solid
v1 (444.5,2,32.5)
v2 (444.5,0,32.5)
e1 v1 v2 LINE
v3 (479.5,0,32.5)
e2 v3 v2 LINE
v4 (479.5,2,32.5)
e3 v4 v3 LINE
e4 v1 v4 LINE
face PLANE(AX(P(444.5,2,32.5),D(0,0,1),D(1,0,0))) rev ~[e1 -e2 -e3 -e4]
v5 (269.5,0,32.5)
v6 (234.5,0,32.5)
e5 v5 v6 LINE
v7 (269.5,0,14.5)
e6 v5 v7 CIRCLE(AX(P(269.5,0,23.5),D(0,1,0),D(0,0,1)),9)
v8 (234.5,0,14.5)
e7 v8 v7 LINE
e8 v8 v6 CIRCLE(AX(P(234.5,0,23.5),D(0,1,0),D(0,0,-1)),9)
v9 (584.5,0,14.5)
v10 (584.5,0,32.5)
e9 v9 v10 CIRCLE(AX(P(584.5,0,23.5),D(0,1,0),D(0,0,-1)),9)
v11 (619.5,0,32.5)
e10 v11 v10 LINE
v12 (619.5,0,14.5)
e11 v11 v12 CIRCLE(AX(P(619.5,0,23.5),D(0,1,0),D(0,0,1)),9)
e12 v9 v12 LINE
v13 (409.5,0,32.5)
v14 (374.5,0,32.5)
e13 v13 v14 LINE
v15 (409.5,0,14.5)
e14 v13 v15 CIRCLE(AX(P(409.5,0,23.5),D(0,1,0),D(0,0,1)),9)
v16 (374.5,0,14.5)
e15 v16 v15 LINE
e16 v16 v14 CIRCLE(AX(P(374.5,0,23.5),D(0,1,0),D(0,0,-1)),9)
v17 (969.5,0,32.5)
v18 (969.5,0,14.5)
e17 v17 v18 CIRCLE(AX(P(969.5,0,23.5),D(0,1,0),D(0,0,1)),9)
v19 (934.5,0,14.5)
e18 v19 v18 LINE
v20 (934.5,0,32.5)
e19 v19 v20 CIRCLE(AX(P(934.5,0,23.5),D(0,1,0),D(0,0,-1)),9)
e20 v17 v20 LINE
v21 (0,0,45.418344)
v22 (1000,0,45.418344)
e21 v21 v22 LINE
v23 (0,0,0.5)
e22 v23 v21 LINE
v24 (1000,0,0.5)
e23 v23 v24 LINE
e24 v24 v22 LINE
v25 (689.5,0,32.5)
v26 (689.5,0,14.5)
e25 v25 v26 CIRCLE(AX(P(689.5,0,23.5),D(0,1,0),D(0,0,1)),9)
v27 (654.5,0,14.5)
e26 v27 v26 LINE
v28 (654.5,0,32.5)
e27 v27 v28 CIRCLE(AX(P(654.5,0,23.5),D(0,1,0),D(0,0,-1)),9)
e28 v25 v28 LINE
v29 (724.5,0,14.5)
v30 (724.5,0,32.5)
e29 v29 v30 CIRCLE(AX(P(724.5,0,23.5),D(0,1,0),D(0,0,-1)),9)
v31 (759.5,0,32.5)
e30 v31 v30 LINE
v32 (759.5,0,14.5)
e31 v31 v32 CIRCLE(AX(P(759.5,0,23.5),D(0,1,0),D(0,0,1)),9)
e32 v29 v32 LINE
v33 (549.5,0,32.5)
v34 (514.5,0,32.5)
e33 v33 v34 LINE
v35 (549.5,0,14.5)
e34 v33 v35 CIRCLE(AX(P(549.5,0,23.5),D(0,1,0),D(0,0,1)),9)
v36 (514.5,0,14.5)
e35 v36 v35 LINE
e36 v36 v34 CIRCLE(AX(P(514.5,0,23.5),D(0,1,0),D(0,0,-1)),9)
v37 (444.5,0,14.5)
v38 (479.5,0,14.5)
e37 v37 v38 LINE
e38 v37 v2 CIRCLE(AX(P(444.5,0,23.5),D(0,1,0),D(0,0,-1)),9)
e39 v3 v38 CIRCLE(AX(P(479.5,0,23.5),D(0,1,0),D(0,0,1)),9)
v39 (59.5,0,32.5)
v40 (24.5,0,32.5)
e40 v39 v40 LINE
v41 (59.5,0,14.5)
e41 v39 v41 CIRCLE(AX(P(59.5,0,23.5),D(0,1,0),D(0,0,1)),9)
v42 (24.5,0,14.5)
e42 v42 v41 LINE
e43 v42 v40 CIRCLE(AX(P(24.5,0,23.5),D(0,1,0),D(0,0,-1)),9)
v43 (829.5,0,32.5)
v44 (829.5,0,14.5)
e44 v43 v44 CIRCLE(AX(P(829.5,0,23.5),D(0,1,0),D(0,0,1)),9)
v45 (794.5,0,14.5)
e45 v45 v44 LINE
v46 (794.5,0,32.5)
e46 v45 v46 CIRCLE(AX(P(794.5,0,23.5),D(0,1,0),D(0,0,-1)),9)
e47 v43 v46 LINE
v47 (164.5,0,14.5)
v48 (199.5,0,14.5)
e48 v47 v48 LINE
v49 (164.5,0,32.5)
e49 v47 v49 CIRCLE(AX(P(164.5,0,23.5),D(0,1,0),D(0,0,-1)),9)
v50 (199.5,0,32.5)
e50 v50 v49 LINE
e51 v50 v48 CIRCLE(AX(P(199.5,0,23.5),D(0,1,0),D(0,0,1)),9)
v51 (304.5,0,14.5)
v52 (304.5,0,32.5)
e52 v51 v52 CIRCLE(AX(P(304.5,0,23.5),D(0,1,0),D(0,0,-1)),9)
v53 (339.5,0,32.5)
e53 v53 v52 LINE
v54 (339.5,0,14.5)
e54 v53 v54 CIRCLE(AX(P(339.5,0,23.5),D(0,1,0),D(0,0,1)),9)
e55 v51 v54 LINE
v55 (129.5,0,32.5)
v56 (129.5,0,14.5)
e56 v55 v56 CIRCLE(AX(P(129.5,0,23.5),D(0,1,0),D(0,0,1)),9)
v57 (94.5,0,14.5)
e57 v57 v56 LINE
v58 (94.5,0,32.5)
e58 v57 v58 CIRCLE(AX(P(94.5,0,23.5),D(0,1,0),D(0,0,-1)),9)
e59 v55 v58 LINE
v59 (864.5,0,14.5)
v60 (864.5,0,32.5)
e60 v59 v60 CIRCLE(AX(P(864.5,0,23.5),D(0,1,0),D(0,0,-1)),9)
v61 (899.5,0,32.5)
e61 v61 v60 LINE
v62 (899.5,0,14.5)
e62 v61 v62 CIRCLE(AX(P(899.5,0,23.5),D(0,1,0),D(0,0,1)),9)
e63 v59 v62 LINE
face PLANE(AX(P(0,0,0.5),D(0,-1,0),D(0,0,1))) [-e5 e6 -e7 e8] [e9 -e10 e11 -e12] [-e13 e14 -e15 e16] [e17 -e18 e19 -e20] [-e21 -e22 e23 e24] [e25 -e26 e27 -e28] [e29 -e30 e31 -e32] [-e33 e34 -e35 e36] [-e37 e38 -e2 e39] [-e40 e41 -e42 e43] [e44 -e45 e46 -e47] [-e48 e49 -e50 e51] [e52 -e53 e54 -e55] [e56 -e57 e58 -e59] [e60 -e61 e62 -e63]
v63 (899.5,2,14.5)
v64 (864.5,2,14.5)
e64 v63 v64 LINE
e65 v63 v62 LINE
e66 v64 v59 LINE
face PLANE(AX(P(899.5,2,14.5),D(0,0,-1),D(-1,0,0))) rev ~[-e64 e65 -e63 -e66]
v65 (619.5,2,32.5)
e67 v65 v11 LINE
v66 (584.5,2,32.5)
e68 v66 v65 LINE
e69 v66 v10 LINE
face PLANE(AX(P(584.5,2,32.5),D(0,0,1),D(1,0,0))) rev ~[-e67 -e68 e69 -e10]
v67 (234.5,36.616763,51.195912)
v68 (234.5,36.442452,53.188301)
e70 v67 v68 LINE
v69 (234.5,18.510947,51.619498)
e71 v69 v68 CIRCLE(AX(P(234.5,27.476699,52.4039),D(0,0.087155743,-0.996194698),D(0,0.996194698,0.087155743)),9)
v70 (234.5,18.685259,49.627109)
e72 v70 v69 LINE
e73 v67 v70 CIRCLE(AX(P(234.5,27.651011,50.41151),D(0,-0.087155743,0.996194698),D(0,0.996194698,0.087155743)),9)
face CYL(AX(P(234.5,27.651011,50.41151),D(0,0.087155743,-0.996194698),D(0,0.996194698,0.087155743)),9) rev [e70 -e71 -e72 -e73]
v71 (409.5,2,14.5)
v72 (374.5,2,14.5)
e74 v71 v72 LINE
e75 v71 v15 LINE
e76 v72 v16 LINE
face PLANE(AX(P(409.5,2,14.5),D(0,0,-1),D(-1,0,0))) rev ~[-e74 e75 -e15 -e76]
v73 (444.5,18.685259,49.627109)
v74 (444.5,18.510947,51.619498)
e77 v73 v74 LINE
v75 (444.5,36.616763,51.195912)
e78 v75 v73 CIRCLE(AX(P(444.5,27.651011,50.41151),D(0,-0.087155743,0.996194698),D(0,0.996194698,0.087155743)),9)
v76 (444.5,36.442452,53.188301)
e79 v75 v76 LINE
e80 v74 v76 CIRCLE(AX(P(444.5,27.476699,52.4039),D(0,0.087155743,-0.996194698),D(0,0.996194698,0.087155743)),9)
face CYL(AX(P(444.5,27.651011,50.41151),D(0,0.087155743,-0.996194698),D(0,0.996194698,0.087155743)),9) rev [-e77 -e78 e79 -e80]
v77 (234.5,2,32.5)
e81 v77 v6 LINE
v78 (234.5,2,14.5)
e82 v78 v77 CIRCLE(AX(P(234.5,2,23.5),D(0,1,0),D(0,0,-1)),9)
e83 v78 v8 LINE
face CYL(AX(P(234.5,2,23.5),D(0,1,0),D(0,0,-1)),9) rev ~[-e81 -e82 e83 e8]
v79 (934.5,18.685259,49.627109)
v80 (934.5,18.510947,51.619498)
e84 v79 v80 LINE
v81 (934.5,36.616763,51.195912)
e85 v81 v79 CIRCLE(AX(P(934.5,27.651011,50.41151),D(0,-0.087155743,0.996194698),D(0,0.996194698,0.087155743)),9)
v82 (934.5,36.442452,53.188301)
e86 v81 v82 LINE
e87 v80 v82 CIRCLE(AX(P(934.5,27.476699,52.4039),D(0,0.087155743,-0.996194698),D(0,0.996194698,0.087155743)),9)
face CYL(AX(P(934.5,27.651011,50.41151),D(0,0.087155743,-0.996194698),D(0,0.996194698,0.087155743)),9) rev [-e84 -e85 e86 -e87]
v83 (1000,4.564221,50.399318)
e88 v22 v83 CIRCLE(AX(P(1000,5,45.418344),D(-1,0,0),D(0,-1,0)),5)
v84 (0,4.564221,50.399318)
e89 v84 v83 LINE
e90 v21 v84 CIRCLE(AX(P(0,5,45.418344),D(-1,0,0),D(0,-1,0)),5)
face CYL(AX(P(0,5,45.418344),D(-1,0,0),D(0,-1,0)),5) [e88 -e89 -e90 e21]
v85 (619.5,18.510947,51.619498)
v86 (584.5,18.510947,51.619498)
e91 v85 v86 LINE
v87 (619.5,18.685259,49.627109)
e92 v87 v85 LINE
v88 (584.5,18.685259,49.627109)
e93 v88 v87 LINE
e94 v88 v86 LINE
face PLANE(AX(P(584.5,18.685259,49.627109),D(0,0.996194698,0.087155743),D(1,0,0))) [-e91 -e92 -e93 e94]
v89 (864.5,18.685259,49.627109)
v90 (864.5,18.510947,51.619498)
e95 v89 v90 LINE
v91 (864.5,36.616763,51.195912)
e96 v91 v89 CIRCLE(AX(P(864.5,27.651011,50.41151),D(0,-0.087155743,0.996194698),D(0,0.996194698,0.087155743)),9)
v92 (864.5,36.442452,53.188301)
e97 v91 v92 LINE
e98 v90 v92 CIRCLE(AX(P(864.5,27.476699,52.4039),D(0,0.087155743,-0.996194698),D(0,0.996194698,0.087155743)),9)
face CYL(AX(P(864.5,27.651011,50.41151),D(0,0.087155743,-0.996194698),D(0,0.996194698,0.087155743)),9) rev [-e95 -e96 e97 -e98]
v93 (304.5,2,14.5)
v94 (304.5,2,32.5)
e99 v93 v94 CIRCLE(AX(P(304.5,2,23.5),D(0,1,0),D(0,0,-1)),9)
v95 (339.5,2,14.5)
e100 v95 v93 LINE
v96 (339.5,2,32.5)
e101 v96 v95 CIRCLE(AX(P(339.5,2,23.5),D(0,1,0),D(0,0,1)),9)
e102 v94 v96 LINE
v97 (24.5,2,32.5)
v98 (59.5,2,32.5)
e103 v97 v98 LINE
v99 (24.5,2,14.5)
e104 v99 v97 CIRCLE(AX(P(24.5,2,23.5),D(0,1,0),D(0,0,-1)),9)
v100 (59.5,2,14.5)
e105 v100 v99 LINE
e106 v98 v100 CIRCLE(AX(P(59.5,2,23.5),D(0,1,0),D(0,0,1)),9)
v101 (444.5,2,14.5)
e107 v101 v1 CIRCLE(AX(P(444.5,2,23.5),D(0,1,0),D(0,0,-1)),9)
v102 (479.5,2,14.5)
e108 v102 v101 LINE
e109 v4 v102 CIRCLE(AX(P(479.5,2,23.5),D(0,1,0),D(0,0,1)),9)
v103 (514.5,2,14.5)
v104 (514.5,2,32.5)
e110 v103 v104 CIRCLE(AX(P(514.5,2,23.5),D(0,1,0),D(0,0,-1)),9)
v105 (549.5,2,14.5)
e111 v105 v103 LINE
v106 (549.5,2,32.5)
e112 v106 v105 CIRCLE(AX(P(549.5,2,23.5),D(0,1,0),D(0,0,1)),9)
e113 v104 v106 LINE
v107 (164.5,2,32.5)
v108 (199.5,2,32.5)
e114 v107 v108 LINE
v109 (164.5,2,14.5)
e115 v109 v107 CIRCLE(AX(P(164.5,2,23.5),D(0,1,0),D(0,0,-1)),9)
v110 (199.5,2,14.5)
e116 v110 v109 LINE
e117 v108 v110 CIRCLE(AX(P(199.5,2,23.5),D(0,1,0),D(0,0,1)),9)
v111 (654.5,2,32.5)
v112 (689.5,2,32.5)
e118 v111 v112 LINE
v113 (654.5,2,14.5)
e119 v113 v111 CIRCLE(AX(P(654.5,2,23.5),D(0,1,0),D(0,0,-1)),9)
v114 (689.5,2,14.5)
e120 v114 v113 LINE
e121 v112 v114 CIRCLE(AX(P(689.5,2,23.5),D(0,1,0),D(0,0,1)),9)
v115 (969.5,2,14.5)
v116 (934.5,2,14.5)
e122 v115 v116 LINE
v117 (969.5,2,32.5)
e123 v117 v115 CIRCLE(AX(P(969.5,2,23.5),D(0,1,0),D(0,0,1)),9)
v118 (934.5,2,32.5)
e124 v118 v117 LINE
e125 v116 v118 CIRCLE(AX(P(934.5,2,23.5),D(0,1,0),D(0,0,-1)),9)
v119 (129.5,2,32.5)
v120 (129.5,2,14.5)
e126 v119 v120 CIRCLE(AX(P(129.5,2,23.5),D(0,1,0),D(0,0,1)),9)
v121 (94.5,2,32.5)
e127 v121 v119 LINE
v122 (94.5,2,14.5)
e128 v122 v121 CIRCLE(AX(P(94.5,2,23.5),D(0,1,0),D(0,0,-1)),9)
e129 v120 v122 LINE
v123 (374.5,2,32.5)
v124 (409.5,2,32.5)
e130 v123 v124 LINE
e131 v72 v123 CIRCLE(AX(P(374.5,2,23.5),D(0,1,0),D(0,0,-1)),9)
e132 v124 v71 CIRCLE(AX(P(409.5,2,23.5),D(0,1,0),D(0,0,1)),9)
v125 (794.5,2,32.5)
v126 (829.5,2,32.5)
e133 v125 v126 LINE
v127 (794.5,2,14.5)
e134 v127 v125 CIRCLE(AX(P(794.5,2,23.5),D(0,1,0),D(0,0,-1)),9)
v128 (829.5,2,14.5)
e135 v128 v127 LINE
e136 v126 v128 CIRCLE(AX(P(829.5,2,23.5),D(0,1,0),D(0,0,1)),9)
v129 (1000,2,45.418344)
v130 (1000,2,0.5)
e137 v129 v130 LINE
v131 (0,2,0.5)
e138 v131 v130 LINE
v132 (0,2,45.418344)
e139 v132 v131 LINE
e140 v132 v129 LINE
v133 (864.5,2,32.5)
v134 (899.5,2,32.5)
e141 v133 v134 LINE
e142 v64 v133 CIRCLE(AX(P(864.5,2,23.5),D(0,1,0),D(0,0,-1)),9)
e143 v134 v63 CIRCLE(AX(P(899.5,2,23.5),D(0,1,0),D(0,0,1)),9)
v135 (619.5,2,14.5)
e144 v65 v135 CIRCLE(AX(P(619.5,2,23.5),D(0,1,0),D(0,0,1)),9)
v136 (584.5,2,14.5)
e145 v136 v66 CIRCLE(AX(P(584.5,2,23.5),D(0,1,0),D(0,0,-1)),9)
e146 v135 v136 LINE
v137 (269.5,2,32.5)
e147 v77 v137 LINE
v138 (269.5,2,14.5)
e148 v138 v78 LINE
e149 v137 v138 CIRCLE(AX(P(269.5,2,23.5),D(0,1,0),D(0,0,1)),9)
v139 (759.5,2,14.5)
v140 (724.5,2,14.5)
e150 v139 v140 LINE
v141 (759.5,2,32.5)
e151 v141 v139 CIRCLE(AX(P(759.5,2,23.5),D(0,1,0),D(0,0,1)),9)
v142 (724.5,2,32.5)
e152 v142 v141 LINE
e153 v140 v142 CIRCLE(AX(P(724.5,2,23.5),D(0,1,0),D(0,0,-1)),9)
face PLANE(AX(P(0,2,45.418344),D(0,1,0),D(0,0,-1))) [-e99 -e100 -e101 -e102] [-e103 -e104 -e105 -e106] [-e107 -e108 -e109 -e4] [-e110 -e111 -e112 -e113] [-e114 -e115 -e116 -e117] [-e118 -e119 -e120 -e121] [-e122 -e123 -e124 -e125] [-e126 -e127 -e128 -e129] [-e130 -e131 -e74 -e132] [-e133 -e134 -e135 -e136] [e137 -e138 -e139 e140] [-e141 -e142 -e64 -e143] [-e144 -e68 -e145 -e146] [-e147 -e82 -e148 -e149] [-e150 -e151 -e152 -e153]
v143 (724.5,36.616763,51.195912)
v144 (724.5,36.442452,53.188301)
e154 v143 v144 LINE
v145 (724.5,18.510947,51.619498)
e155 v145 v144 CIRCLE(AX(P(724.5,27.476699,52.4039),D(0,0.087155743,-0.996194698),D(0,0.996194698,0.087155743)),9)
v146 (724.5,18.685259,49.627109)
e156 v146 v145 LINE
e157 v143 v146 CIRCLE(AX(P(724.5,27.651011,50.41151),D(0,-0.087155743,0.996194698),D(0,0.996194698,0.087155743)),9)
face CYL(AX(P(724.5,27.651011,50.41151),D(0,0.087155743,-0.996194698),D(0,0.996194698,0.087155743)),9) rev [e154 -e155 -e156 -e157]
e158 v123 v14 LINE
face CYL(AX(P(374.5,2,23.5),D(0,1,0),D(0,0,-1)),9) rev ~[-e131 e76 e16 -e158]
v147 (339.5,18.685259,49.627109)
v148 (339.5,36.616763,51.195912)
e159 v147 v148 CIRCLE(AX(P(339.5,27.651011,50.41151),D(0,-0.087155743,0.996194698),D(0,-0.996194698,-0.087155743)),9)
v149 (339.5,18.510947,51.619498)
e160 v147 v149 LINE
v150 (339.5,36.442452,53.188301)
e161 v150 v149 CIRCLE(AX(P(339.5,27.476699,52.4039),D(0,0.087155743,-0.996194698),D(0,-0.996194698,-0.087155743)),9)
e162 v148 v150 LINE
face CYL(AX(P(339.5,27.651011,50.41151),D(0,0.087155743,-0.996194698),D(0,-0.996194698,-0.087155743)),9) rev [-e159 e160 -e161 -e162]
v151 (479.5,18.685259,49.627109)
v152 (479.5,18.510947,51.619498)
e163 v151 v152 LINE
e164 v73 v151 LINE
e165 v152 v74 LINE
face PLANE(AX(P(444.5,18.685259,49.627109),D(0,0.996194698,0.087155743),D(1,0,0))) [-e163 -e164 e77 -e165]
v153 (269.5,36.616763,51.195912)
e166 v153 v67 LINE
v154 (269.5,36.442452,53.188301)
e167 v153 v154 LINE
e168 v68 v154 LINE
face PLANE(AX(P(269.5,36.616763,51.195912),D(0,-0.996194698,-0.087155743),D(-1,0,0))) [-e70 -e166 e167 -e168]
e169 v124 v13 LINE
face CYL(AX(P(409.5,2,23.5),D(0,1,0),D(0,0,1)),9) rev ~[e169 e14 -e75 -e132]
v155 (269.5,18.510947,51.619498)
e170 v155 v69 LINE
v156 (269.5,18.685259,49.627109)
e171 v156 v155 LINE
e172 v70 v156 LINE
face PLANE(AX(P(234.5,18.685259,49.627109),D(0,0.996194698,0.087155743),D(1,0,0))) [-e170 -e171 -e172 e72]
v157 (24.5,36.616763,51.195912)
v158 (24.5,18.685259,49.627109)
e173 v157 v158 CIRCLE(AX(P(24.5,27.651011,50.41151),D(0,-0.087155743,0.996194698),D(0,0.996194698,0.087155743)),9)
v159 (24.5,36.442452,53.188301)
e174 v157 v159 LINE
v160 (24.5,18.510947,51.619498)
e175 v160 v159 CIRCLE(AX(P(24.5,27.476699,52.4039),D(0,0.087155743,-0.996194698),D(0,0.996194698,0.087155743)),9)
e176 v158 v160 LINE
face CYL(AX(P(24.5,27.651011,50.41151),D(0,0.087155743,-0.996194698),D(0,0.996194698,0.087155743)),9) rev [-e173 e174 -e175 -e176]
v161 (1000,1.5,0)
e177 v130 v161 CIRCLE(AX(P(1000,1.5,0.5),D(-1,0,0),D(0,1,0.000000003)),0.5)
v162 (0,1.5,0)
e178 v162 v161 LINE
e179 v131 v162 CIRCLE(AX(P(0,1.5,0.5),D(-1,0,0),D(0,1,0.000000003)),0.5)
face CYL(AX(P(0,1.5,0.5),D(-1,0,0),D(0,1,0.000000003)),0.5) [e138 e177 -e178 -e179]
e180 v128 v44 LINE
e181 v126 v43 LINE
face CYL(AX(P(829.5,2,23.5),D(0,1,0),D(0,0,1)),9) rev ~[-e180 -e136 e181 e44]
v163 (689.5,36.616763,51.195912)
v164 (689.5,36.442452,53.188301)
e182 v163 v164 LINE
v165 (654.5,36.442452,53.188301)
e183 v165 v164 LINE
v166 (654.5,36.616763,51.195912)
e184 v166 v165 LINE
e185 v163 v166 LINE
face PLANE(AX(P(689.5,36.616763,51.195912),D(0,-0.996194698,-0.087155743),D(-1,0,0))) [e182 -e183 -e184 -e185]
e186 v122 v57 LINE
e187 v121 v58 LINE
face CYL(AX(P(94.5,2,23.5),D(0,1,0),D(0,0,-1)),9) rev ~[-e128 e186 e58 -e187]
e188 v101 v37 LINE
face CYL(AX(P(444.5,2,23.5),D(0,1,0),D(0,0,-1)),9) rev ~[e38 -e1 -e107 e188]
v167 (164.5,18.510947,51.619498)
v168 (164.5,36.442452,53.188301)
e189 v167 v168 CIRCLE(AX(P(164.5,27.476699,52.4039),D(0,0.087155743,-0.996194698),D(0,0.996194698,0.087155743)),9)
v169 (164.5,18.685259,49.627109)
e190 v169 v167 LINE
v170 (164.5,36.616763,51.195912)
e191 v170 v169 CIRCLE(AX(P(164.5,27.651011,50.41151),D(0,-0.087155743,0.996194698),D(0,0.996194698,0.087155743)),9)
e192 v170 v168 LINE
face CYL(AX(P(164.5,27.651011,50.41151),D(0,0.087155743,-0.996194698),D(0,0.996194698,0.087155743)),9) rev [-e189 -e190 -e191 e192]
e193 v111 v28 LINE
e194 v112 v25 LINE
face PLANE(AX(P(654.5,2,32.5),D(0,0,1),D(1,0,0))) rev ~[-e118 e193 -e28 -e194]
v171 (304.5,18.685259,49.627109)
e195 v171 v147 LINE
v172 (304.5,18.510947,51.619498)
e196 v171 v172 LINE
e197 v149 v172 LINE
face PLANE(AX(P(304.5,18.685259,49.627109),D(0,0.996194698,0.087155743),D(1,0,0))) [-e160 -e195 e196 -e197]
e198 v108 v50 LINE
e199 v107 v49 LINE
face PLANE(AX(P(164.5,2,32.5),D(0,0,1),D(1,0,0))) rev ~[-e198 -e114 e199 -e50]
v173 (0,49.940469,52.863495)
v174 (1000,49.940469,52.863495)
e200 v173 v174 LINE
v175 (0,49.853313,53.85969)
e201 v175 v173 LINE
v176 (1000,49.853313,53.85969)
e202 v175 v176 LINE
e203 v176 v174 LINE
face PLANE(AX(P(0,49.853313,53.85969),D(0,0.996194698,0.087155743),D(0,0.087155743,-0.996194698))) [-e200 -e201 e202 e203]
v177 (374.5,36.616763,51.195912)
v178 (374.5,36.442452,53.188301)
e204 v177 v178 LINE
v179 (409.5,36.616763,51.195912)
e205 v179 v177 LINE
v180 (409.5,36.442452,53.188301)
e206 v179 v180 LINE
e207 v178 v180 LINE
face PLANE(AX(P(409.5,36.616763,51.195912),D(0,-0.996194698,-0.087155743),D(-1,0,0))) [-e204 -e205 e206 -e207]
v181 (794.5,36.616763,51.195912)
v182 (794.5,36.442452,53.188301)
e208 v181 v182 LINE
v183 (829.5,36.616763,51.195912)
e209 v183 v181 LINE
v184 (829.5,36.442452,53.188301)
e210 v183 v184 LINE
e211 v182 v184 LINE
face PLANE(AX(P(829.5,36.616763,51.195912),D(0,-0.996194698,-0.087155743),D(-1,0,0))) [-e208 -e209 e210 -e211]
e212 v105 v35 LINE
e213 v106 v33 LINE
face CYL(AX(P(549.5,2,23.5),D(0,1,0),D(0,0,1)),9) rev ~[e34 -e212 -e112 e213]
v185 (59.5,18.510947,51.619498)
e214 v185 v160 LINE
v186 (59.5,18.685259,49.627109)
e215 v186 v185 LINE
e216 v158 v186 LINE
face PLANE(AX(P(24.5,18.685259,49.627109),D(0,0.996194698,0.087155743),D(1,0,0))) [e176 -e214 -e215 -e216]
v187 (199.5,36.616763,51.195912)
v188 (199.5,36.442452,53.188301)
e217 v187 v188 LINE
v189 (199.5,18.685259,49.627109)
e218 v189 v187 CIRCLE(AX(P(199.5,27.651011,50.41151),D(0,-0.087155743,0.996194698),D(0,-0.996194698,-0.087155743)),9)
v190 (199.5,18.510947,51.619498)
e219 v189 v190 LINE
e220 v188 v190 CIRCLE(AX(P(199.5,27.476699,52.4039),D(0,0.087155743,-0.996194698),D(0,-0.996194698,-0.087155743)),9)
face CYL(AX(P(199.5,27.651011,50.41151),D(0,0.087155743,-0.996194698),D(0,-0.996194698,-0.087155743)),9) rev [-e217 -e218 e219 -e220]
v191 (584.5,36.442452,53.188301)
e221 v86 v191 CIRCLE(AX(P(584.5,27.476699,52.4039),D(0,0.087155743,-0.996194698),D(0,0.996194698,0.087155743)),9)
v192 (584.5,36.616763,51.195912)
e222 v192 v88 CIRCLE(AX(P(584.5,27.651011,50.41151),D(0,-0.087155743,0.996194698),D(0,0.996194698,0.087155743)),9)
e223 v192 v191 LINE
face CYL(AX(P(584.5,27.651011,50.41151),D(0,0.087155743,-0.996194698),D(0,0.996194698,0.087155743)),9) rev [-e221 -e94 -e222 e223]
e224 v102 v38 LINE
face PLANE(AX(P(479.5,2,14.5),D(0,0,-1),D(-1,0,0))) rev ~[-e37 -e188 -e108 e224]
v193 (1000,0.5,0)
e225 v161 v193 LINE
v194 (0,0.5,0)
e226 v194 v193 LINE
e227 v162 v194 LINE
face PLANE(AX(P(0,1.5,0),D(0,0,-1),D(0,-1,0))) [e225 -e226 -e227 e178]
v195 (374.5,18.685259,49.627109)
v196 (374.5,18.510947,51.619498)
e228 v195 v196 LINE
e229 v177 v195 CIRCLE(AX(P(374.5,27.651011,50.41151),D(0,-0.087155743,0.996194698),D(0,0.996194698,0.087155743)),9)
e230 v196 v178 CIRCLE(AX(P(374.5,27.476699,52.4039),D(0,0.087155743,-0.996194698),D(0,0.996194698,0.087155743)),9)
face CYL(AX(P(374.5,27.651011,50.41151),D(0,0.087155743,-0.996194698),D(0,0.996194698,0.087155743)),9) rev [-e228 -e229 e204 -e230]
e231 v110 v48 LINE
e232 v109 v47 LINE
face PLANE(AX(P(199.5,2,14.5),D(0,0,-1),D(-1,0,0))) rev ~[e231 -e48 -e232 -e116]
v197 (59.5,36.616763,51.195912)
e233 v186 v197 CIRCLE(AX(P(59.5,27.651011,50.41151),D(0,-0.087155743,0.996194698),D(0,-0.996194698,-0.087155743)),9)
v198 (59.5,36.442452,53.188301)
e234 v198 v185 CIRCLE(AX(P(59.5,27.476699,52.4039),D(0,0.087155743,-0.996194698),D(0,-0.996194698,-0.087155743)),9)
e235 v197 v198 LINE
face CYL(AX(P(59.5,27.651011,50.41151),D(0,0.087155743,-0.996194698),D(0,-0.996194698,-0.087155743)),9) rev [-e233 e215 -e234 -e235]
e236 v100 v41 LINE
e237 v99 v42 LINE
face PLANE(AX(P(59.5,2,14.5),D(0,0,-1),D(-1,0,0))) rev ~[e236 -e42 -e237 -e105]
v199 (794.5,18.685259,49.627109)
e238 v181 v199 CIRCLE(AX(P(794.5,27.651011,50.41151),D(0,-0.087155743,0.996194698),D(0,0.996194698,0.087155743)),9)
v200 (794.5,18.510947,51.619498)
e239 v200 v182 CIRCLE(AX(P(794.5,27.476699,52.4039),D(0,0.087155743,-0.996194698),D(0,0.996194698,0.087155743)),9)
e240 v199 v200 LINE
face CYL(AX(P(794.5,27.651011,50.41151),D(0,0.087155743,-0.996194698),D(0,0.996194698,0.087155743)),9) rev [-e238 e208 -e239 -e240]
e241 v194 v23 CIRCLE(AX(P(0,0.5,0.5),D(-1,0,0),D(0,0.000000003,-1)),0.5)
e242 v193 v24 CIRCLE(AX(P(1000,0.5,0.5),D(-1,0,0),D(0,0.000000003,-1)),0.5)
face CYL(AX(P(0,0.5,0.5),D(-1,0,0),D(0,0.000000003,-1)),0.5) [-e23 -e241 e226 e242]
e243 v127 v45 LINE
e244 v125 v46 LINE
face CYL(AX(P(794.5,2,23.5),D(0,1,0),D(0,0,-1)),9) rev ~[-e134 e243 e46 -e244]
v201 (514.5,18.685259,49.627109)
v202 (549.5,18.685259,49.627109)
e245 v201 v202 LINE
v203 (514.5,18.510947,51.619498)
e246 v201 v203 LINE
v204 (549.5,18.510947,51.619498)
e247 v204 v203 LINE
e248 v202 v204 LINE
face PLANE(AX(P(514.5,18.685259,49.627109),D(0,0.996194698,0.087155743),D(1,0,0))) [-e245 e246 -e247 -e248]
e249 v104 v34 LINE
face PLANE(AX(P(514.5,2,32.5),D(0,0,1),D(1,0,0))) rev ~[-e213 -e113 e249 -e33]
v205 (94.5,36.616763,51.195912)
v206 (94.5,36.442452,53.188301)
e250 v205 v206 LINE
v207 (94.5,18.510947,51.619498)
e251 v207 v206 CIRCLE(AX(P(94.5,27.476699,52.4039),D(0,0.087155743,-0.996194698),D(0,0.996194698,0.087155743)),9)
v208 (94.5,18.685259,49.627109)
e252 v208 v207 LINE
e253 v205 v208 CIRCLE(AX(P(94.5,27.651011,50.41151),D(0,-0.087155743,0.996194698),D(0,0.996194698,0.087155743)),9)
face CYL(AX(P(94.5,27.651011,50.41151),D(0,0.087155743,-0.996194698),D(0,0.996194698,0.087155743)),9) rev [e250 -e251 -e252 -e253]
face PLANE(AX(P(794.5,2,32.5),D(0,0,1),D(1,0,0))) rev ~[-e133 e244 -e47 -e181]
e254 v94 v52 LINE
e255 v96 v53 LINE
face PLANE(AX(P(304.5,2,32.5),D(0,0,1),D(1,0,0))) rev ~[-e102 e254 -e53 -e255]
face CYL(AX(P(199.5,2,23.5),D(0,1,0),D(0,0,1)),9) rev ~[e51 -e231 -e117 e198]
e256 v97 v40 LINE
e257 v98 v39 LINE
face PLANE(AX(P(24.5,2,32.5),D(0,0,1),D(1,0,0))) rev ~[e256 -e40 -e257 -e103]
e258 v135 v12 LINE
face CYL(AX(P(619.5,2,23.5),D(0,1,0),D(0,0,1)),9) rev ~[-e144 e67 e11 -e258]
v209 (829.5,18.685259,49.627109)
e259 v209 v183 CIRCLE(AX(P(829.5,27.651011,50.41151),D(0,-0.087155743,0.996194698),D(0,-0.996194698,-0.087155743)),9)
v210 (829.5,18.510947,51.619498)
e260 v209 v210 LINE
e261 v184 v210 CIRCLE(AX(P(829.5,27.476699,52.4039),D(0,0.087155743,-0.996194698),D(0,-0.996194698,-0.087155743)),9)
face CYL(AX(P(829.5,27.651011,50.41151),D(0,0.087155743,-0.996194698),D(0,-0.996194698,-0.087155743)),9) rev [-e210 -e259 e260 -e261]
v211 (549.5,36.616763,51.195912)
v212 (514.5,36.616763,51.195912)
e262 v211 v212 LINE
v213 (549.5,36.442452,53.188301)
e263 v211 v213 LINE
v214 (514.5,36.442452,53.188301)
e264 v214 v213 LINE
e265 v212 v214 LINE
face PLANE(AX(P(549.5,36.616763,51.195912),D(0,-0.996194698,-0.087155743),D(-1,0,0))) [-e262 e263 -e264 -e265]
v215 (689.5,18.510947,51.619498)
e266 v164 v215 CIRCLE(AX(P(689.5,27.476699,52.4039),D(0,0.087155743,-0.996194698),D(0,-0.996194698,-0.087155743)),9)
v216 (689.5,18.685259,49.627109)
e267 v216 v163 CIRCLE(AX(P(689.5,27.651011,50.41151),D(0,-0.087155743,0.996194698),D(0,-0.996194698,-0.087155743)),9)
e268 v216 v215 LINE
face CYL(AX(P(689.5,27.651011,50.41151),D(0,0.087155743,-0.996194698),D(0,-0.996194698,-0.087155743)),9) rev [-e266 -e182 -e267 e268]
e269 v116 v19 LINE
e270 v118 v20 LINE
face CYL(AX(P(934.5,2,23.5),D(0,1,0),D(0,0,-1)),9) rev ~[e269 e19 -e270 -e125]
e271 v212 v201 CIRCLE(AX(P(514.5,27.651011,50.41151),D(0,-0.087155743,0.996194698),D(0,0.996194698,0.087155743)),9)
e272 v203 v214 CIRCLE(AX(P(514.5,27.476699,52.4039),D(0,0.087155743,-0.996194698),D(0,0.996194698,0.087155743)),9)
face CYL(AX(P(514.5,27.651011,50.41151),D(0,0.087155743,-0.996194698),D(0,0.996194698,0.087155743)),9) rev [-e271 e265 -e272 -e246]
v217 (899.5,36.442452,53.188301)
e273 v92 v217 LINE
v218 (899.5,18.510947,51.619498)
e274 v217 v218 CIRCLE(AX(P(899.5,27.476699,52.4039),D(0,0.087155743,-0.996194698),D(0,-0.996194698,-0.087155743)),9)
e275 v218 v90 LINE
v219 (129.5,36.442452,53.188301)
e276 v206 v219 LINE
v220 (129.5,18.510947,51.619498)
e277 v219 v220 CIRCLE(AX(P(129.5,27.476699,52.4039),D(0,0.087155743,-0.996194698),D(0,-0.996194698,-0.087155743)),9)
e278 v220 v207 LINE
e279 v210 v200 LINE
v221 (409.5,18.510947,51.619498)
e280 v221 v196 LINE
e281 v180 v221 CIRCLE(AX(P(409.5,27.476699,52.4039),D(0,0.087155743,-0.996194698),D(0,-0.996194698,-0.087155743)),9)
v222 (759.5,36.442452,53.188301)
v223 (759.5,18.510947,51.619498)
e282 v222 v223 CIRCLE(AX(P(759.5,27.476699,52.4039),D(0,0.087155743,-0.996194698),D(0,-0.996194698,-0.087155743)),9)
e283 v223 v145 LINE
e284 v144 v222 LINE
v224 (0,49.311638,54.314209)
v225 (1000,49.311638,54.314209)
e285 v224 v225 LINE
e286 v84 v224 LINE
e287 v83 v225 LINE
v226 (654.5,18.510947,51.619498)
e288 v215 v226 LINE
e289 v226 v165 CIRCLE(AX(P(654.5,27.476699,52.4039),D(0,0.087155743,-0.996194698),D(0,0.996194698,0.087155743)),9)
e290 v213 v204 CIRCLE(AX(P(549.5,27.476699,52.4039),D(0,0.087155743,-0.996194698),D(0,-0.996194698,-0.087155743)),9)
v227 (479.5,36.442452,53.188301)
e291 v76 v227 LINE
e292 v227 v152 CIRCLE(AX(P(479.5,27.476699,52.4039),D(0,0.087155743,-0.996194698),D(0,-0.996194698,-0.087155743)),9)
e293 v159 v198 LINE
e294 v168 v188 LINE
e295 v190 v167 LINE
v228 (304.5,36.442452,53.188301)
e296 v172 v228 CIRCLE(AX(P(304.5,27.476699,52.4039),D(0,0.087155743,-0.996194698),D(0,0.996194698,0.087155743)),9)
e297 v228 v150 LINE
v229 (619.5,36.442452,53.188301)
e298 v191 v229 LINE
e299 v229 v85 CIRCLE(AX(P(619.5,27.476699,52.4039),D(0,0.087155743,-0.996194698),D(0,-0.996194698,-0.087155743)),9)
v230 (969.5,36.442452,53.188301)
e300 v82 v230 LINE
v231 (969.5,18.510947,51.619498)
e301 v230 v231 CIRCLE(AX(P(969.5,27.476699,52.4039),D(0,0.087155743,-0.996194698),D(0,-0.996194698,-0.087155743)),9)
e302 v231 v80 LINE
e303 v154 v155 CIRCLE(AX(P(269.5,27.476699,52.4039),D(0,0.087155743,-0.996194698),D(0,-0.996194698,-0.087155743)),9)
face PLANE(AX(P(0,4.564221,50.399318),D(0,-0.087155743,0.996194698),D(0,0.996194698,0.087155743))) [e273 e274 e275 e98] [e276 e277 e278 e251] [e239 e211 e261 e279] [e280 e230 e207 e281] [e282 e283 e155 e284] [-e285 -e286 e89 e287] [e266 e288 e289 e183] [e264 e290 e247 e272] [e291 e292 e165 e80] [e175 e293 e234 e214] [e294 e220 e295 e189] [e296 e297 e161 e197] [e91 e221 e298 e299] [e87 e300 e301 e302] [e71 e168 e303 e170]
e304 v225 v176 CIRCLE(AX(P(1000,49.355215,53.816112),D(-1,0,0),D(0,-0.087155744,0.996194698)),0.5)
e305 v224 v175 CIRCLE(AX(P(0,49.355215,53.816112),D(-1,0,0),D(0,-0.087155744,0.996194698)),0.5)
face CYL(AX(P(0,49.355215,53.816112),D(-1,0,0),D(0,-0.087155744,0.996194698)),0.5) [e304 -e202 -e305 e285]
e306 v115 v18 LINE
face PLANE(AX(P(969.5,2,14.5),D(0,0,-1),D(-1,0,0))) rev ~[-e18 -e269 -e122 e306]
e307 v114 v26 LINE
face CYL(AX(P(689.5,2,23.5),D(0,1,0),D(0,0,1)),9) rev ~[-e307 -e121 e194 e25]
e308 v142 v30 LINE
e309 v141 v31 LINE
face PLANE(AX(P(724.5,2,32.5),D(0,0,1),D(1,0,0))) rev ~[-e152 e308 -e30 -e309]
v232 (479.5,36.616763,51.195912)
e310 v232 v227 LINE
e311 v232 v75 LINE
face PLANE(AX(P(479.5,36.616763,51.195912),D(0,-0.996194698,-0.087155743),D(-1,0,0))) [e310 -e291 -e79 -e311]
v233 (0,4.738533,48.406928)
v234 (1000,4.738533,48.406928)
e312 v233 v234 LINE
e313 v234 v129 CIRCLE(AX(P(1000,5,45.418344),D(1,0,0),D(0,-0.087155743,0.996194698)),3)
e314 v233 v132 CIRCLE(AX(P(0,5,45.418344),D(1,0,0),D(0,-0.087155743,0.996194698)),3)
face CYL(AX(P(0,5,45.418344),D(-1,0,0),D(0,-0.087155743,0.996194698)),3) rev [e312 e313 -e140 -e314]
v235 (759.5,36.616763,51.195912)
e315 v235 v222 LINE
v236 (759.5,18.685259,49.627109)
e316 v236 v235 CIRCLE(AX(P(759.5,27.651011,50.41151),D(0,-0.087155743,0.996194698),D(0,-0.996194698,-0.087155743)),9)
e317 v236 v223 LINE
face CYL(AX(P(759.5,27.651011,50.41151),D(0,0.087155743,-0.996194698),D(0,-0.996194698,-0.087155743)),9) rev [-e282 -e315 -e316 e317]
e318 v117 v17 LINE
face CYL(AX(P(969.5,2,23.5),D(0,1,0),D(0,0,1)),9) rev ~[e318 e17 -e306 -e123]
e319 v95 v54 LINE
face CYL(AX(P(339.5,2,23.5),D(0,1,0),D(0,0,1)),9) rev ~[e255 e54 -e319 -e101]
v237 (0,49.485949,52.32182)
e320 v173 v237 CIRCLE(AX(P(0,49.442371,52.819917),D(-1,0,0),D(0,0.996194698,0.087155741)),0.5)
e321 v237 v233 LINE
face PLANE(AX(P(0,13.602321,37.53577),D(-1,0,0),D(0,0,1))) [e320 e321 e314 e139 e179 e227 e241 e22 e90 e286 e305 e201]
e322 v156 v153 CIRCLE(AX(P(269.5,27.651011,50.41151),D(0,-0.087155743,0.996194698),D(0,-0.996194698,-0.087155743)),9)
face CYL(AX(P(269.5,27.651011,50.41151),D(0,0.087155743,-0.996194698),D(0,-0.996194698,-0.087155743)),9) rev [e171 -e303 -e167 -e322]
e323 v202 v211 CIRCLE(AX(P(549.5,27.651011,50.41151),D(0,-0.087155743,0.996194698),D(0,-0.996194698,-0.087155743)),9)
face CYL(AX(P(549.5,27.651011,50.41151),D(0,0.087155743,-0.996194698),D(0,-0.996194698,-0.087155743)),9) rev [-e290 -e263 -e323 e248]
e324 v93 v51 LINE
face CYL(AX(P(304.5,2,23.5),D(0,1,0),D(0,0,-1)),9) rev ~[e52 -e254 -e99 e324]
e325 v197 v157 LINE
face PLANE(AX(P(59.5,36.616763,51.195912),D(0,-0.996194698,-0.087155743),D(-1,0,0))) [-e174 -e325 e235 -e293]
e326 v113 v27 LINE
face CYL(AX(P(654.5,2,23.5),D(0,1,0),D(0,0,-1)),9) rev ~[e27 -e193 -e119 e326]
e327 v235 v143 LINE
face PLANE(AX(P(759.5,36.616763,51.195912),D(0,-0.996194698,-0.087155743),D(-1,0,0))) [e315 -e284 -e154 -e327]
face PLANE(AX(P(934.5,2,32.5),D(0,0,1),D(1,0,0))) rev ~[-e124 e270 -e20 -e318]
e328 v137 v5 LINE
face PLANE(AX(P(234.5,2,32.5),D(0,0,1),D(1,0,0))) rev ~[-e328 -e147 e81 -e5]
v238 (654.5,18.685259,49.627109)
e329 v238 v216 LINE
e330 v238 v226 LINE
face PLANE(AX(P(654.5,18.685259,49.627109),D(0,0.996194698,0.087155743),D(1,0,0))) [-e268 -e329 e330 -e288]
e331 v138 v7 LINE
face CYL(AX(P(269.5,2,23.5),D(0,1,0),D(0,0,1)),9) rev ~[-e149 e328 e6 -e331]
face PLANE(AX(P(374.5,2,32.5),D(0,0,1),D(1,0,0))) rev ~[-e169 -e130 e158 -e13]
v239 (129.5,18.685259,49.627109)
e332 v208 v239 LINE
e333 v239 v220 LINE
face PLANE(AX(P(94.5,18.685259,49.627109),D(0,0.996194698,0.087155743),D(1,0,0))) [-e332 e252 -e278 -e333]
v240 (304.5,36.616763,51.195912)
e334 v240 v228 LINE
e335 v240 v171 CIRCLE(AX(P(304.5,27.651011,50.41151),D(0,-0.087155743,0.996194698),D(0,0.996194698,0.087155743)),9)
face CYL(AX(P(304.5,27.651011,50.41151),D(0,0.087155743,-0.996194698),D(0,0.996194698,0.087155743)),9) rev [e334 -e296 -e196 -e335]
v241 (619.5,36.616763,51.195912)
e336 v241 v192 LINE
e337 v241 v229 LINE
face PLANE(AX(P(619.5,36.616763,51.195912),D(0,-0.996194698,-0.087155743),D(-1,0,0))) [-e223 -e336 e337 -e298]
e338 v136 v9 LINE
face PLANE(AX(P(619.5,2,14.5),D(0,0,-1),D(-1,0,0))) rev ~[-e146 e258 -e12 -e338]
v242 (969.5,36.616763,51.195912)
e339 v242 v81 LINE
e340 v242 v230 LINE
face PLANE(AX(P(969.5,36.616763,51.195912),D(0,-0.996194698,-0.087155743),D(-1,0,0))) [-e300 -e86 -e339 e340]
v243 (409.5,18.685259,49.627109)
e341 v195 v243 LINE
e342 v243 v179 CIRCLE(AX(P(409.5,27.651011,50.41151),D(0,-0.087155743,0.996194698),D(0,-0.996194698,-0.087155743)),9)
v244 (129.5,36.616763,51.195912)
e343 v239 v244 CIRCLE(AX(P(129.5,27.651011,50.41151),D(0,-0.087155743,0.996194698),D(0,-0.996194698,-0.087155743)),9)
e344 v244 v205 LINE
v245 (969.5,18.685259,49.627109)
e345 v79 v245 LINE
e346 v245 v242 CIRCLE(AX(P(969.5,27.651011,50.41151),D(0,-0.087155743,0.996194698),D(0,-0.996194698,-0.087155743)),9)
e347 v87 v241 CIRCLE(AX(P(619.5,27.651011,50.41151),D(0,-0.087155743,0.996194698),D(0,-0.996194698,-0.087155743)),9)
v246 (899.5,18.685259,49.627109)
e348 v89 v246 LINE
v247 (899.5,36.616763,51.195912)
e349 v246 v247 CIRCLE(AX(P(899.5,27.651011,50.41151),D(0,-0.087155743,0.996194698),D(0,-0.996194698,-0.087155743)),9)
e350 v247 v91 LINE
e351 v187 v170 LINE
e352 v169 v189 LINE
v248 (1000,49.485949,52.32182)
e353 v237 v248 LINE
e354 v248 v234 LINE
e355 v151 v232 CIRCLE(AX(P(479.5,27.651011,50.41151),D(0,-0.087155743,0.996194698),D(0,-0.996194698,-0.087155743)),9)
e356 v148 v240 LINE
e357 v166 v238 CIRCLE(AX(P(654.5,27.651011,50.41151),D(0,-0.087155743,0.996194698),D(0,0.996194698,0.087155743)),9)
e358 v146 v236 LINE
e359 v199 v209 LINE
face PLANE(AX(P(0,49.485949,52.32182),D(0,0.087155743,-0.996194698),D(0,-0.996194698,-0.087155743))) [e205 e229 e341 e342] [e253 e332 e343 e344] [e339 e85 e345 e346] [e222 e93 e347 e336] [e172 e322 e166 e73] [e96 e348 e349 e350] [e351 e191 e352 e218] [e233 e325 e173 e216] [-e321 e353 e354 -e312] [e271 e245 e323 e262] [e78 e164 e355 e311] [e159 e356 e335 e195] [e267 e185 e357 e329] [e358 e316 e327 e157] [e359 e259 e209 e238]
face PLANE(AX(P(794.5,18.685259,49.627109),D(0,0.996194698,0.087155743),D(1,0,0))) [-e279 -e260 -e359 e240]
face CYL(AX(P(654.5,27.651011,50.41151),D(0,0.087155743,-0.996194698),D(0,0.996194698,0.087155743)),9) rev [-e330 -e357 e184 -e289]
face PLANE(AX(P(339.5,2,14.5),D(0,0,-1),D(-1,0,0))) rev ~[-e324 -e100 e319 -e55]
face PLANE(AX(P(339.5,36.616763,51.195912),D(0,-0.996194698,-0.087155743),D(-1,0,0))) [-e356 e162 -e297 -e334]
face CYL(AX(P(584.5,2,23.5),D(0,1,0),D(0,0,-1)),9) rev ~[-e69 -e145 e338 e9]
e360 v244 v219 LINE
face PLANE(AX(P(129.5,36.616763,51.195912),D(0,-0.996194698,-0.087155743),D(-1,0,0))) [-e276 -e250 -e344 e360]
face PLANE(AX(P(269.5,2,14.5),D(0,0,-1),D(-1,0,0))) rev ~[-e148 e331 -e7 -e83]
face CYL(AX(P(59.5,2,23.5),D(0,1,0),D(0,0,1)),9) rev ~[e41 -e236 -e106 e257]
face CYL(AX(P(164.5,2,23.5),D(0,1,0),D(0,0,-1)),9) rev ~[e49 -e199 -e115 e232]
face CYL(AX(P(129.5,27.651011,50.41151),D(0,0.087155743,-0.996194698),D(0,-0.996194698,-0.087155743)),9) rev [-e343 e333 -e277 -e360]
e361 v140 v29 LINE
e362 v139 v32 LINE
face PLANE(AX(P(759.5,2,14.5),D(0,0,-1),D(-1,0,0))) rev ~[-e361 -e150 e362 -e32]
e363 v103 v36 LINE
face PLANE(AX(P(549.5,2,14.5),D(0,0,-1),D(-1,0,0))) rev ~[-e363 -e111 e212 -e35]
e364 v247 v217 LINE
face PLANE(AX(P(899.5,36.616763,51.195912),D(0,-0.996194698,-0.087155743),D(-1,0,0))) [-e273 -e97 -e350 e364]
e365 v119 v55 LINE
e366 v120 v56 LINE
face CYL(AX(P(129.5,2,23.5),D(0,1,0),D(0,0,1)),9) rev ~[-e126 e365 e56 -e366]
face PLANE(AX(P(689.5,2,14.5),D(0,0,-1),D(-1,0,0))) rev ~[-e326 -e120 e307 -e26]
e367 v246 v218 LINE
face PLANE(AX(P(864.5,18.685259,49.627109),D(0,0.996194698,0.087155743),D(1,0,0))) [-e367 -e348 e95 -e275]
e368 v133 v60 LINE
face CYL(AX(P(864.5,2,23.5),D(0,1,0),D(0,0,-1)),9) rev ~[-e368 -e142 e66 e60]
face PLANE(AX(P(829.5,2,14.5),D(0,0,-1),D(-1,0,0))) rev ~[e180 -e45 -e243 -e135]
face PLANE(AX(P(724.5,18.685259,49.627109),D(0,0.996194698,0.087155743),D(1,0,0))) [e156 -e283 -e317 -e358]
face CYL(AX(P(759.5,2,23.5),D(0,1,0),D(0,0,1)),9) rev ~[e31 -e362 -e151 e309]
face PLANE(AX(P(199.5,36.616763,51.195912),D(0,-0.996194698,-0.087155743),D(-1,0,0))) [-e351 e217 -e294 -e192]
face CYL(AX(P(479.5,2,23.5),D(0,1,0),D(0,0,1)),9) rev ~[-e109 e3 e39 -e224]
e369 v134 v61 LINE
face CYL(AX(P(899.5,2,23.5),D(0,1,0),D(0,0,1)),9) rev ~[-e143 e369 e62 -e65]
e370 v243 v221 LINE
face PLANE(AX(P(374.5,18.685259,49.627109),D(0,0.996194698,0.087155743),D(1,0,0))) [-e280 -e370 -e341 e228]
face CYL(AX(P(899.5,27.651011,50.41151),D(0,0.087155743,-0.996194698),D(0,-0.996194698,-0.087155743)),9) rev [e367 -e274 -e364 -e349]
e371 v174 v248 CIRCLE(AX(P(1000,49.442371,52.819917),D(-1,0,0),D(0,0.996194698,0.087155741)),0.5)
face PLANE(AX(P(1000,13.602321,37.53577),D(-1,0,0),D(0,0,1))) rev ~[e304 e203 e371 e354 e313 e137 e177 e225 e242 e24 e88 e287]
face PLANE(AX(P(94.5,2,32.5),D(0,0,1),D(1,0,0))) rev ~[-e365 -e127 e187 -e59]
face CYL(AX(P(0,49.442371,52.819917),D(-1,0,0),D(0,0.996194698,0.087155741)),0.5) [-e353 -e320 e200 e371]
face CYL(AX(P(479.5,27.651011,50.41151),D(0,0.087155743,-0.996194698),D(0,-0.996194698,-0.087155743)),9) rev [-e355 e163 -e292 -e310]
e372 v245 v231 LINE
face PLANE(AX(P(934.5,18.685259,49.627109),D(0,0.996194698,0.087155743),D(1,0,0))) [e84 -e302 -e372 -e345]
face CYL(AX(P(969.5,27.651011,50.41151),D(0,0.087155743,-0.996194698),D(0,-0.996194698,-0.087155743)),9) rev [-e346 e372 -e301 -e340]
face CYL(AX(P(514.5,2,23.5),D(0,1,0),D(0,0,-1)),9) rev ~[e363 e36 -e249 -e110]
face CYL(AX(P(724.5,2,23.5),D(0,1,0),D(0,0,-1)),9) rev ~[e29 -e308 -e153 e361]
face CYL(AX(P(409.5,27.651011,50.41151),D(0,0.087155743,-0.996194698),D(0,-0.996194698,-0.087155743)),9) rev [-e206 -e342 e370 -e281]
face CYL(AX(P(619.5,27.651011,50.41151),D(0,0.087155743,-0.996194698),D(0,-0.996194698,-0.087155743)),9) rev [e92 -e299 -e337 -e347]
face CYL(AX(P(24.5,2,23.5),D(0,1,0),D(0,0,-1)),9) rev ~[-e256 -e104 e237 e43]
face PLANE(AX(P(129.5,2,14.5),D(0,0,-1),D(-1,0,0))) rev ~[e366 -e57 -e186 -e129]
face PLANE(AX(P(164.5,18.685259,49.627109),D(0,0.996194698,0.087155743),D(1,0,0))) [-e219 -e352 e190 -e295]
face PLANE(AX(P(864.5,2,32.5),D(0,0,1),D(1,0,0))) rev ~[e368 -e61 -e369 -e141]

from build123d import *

# Parameters (mm, degrees)
EXTRUDE_1_DEPTH     = 1000
CUT_EXTRUDE_3_DEPTH = 1003.594743762
CUT_EXTRUDE_5_DEPTH = 1003.62092087


with BuildPart() as part:
    # 草图1 → 凸台-拉伸1 (new body)
    with BuildSketch(Plane(origin=(0, 0, 0), x_dir=(0, 0, -1), z_dir=(1, 0, 0))):
        with BuildLine():
            Line((-0.5, 0), (-45.41834413, 0))
            ThreePointArc((-45.41834413, 0), (-48.796295168, 1.313613316), (-50.39931762, 4.564221286))
            Line((-50.39931762, 4.564221286), (-54.314209266, 49.311637556))
            ThreePointArc((-54.314209266, 49.311637556), (-54.199134139, 49.676609232), (-53.859689788, 49.853312776))
            Line((-53.859689788, 49.853312776), (-52.86349509, 49.940468519))
            ThreePointArc((-52.86349509, 49.940468519), (-52.498523414, 49.825393391), (-52.32181987, 49.485949041))
            Line((-52.32181987, 49.485949041), (-48.406928224, 4.738532772))
            ThreePointArc((-48.406928224, 4.738532772), (-47.445114753, 2.78816799), (-45.41834413, 2))
            Line((-45.41834413, 2), (-0.5, 2))
            ThreePointArc((-0.5, 2), (-0.146446609, 1.853553391), (0, 1.5))
            Line((0, 1.5), (0, 0.5))
            ThreePointArc((0, 0.5), (-0.146446609, 0.146446609), (-0.5, 0))
        make_face()
    extrude(amount=EXTRUDE_1_DEPTH)

    # 草图3 → 切除-拉伸3 (cut, through all)
    with BuildSketch(Plane(origin=(0, -4.166892956, 47.627804429), x_dir=(-1, 0, 0), z_dir=(0, 0.08715574274765506, -0.9961946980917459))):
        with BuildLine():
            Line((-59.5, 40.939443007), (-24.5, 40.939443007))
            ThreePointArc((-24.5, 40.939443007), (-15.5, 31.939443007), (-24.5, 22.939443007))
            Line((-24.5, 22.939443007), (-59.5, 22.939443007))
            ThreePointArc((-59.5, 22.939443007), (-68.5, 31.939443007), (-59.5, 40.939443007))
        make_face()
        with BuildLine():
            Line((-129.5, 40.939443007), (-94.5, 40.939443007))
            ThreePointArc((-94.5, 40.939443007), (-85.5, 31.939443007), (-94.5, 22.939443007))
            Line((-94.5, 22.939443007), (-129.5, 22.939443007))
            ThreePointArc((-129.5, 22.939443007), (-138.5, 31.939443007), (-129.5, 40.939443007))
        make_face()
        with BuildLine():
            Line((-199.5, 40.939443007), (-164.5, 40.939443007))
            ThreePointArc((-164.5, 40.939443007), (-155.5, 31.939443007), (-164.5, 22.939443007))
            Line((-164.5, 22.939443007), (-199.5, 22.939443007))
            ThreePointArc((-199.5, 22.939443007), (-208.5, 31.939443007), (-199.5, 40.939443007))
        make_face()
        with BuildLine():
            Line((-269.5, 40.939443007), (-234.5, 40.939443007))
            ThreePointArc((-234.5, 40.939443007), (-225.5, 31.939443007), (-234.5, 22.939443007))
            Line((-234.5, 22.939443007), (-269.5, 22.939443007))
            ThreePointArc((-269.5, 22.939443007), (-278.5, 31.939443007), (-269.5, 40.939443007))
        make_face()
        with BuildLine():
            Line((-339.5, 40.939443007), (-304.5, 40.939443007))
            ThreePointArc((-304.5, 40.939443007), (-295.5, 31.939443007), (-304.5, 22.939443007))
            Line((-304.5, 22.939443007), (-339.5, 22.939443007))
            ThreePointArc((-339.5, 22.939443007), (-348.5, 31.939443007), (-339.5, 40.939443007))
        make_face()
        with BuildLine():
            Line((-409.5, 40.939443007), (-374.5, 40.939443007))
            ThreePointArc((-374.5, 40.939443007), (-365.5, 31.939443007), (-374.5, 22.939443007))
            Line((-374.5, 22.939443007), (-409.5, 22.939443007))
            ThreePointArc((-409.5, 22.939443007), (-418.5, 31.939443007), (-409.5, 40.939443007))
        make_face()
        with BuildLine():
            Line((-479.5, 40.939443007), (-444.5, 40.939443007))
            ThreePointArc((-444.5, 40.939443007), (-435.5, 31.939443007), (-444.5, 22.939443007))
            Line((-444.5, 22.939443007), (-479.5, 22.939443007))
            ThreePointArc((-479.5, 22.939443007), (-488.5, 31.939443007), (-479.5, 40.939443007))
        make_face()
        with BuildLine():
            Line((-549.5, 40.939443007), (-514.5, 40.939443007))
            ThreePointArc((-514.5, 40.939443007), (-505.5, 31.939443007), (-514.5, 22.939443007))
            Line((-514.5, 22.939443007), (-549.5, 22.939443007))
            ThreePointArc((-549.5, 22.939443007), (-558.5, 31.939443007), (-549.5, 40.939443007))
        make_face()
        with BuildLine():
            Line((-619.5, 40.939443007), (-584.5, 40.939443007))
            ThreePointArc((-584.5, 40.939443007), (-575.5, 31.939443007), (-584.5, 22.939443007))
            Line((-584.5, 22.939443007), (-619.5, 22.939443007))
            ThreePointArc((-619.5, 22.939443007), (-628.5, 31.939443007), (-619.5, 40.939443007))
        make_face()
        with BuildLine():
            Line((-689.5, 40.939443007), (-654.5, 40.939443007))
            ThreePointArc((-654.5, 40.939443007), (-645.5, 31.939443007), (-654.5, 22.939443007))
            Line((-654.5, 22.939443007), (-689.5, 22.939443007))
            ThreePointArc((-689.5, 22.939443007), (-698.5, 31.939443007), (-689.5, 40.939443007))
        make_face()
        with BuildLine():
            Line((-759.5, 40.939443007), (-724.5, 40.939443007))
            ThreePointArc((-724.5, 40.939443007), (-715.5, 31.939443007), (-724.5, 22.939443007))
            Line((-724.5, 22.939443007), (-759.5, 22.939443007))
            ThreePointArc((-759.5, 22.939443007), (-768.5, 31.939443007), (-759.5, 40.939443007))
        make_face()
        with BuildLine():
            Line((-829.5, 40.939443007), (-794.5, 40.939443007))
            ThreePointArc((-794.5, 40.939443007), (-785.5, 31.939443007), (-794.5, 22.939443007))
            Line((-794.5, 22.939443007), (-829.5, 22.939443007))
            ThreePointArc((-829.5, 22.939443007), (-838.5, 31.939443007), (-829.5, 40.939443007))
        make_face()
        with BuildLine():
            Line((-899.5, 40.939443007), (-864.5, 40.939443007))
            ThreePointArc((-864.5, 40.939443007), (-855.5, 31.939443007), (-864.5, 22.939443007))
            Line((-864.5, 22.939443007), (-899.5, 22.939443007))
            ThreePointArc((-899.5, 22.939443007), (-908.5, 31.939443007), (-899.5, 40.939443007))
        make_face()
        with BuildLine():
            Line((-969.5, 40.939443007), (-934.5, 40.939443007))
            ThreePointArc((-934.5, 40.939443007), (-925.5, 31.939443007), (-934.5, 22.939443007))
            Line((-934.5, 22.939443007), (-969.5, 22.939443007))
            ThreePointArc((-969.5, 22.939443007), (-978.5, 31.939443007), (-969.5, 40.939443007))
        make_face()
    extrude(amount=-CUT_EXTRUDE_3_DEPTH, mode=Mode.SUBTRACT)

    # 草图2 → 切除-拉伸5 (cut, through all)
    with BuildSketch(Plane(origin=(0, 2, 0), x_dir=(1, 0, 0), z_dir=(0, 1, 0))):
        with BuildLine():
            Line((59.5, -14.5), (24.5, -14.5))
            ThreePointArc((24.5, -14.5), (15.5, -23.5), (24.5, -32.5))
            Line((24.5, -32.5), (59.5, -32.5))
            ThreePointArc((59.5, -32.5), (68.5, -23.5), (59.5, -14.5))
        make_face()
        with BuildLine():
            Line((129.5, -14.5), (94.5, -14.5))
            ThreePointArc((94.5, -14.5), (85.5, -23.5), (94.5, -32.5))
            Line((94.5, -32.5), (129.5, -32.5))
            ThreePointArc((129.5, -32.5), (138.5, -23.5), (129.5, -14.5))
        make_face()
        with BuildLine():
            Line((199.5, -14.5), (164.5, -14.5))
            ThreePointArc((164.5, -14.5), (155.5, -23.5), (164.5, -32.5))
            Line((164.5, -32.5), (199.5, -32.5))
            ThreePointArc((199.5, -32.5), (208.5, -23.5), (199.5, -14.5))
        make_face()
        with BuildLine():
            Line((269.5, -14.5), (234.5, -14.5))
            ThreePointArc((234.5, -14.5), (225.5, -23.5), (234.5, -32.5))
            Line((234.5, -32.5), (269.5, -32.5))
            ThreePointArc((269.5, -32.5), (278.5, -23.5), (269.5, -14.5))
        make_face()
        with BuildLine():
            Line((339.5, -14.5), (304.5, -14.5))
            ThreePointArc((304.5, -14.5), (295.5, -23.5), (304.5, -32.5))
            Line((304.5, -32.5), (339.5, -32.5))
            ThreePointArc((339.5, -32.5), (348.5, -23.5), (339.5, -14.5))
        make_face()
        with BuildLine():
            Line((409.5, -14.5), (374.5, -14.5))
            ThreePointArc((374.5, -14.5), (365.5, -23.5), (374.5, -32.5))
            Line((374.5, -32.5), (409.5, -32.5))
            ThreePointArc((409.5, -32.5), (418.5, -23.5), (409.5, -14.5))
        make_face()
        with BuildLine():
            Line((479.5, -14.5), (444.5, -14.5))
            ThreePointArc((444.5, -14.5), (435.5, -23.5), (444.5, -32.5))
            Line((444.5, -32.5), (479.5, -32.5))
            ThreePointArc((479.5, -32.5), (488.5, -23.5), (479.5, -14.5))
        make_face()
        with BuildLine():
            Line((549.5, -14.5), (514.5, -14.5))
            ThreePointArc((514.5, -14.5), (505.5, -23.5), (514.5, -32.5))
            Line((514.5, -32.5), (549.5, -32.5))
            ThreePointArc((549.5, -32.5), (558.5, -23.5), (549.5, -14.5))
        make_face()
        with BuildLine():
            Line((619.5, -14.5), (584.5, -14.5))
            ThreePointArc((584.5, -14.5), (575.5, -23.5), (584.5, -32.5))
            Line((584.5, -32.5), (619.5, -32.5))
            ThreePointArc((619.5, -32.5), (628.5, -23.5), (619.5, -14.5))
        make_face()
        with BuildLine():
            Line((689.5, -14.5), (654.5, -14.5))
            ThreePointArc((654.5, -14.5), (645.5, -23.5), (654.5, -32.5))
            Line((654.5, -32.5), (689.5, -32.5))
            ThreePointArc((689.5, -32.5), (698.5, -23.5), (689.5, -14.5))
        make_face()
        with BuildLine():
            Line((759.5, -14.5), (724.5, -14.5))
            ThreePointArc((724.5, -14.5), (715.5, -23.5), (724.5, -32.5))
            Line((724.5, -32.5), (759.5, -32.5))
            ThreePointArc((759.5, -32.5), (768.5, -23.5), (759.5, -14.5))
        make_face()
        with BuildLine():
            Line((829.5, -14.5), (794.5, -14.5))
            ThreePointArc((794.5, -14.5), (785.5, -23.5), (794.5, -32.5))
            Line((794.5, -32.5), (829.5, -32.5))
            ThreePointArc((829.5, -32.5), (838.5, -23.5), (829.5, -14.5))
        make_face()
        with BuildLine():
            Line((899.5, -14.5), (864.5, -14.5))
            ThreePointArc((864.5, -14.5), (855.5, -23.5), (864.5, -32.5))
            Line((864.5, -32.5), (899.5, -32.5))
            ThreePointArc((899.5, -32.5), (908.5, -23.5), (899.5, -14.5))
        make_face()
        with BuildLine():
            Line((969.5, -14.5), (934.5, -14.5))
            ThreePointArc((934.5, -14.5), (925.5, -23.5), (934.5, -32.5))
            Line((934.5, -32.5), (969.5, -32.5))
            ThreePointArc((969.5, -32.5), (978.5, -23.5), (969.5, -14.5))
        make_face()
    extrude(amount=-CUT_EXTRUDE_5_DEPTH, mode=Mode.SUBTRACT)


solid = part.part
